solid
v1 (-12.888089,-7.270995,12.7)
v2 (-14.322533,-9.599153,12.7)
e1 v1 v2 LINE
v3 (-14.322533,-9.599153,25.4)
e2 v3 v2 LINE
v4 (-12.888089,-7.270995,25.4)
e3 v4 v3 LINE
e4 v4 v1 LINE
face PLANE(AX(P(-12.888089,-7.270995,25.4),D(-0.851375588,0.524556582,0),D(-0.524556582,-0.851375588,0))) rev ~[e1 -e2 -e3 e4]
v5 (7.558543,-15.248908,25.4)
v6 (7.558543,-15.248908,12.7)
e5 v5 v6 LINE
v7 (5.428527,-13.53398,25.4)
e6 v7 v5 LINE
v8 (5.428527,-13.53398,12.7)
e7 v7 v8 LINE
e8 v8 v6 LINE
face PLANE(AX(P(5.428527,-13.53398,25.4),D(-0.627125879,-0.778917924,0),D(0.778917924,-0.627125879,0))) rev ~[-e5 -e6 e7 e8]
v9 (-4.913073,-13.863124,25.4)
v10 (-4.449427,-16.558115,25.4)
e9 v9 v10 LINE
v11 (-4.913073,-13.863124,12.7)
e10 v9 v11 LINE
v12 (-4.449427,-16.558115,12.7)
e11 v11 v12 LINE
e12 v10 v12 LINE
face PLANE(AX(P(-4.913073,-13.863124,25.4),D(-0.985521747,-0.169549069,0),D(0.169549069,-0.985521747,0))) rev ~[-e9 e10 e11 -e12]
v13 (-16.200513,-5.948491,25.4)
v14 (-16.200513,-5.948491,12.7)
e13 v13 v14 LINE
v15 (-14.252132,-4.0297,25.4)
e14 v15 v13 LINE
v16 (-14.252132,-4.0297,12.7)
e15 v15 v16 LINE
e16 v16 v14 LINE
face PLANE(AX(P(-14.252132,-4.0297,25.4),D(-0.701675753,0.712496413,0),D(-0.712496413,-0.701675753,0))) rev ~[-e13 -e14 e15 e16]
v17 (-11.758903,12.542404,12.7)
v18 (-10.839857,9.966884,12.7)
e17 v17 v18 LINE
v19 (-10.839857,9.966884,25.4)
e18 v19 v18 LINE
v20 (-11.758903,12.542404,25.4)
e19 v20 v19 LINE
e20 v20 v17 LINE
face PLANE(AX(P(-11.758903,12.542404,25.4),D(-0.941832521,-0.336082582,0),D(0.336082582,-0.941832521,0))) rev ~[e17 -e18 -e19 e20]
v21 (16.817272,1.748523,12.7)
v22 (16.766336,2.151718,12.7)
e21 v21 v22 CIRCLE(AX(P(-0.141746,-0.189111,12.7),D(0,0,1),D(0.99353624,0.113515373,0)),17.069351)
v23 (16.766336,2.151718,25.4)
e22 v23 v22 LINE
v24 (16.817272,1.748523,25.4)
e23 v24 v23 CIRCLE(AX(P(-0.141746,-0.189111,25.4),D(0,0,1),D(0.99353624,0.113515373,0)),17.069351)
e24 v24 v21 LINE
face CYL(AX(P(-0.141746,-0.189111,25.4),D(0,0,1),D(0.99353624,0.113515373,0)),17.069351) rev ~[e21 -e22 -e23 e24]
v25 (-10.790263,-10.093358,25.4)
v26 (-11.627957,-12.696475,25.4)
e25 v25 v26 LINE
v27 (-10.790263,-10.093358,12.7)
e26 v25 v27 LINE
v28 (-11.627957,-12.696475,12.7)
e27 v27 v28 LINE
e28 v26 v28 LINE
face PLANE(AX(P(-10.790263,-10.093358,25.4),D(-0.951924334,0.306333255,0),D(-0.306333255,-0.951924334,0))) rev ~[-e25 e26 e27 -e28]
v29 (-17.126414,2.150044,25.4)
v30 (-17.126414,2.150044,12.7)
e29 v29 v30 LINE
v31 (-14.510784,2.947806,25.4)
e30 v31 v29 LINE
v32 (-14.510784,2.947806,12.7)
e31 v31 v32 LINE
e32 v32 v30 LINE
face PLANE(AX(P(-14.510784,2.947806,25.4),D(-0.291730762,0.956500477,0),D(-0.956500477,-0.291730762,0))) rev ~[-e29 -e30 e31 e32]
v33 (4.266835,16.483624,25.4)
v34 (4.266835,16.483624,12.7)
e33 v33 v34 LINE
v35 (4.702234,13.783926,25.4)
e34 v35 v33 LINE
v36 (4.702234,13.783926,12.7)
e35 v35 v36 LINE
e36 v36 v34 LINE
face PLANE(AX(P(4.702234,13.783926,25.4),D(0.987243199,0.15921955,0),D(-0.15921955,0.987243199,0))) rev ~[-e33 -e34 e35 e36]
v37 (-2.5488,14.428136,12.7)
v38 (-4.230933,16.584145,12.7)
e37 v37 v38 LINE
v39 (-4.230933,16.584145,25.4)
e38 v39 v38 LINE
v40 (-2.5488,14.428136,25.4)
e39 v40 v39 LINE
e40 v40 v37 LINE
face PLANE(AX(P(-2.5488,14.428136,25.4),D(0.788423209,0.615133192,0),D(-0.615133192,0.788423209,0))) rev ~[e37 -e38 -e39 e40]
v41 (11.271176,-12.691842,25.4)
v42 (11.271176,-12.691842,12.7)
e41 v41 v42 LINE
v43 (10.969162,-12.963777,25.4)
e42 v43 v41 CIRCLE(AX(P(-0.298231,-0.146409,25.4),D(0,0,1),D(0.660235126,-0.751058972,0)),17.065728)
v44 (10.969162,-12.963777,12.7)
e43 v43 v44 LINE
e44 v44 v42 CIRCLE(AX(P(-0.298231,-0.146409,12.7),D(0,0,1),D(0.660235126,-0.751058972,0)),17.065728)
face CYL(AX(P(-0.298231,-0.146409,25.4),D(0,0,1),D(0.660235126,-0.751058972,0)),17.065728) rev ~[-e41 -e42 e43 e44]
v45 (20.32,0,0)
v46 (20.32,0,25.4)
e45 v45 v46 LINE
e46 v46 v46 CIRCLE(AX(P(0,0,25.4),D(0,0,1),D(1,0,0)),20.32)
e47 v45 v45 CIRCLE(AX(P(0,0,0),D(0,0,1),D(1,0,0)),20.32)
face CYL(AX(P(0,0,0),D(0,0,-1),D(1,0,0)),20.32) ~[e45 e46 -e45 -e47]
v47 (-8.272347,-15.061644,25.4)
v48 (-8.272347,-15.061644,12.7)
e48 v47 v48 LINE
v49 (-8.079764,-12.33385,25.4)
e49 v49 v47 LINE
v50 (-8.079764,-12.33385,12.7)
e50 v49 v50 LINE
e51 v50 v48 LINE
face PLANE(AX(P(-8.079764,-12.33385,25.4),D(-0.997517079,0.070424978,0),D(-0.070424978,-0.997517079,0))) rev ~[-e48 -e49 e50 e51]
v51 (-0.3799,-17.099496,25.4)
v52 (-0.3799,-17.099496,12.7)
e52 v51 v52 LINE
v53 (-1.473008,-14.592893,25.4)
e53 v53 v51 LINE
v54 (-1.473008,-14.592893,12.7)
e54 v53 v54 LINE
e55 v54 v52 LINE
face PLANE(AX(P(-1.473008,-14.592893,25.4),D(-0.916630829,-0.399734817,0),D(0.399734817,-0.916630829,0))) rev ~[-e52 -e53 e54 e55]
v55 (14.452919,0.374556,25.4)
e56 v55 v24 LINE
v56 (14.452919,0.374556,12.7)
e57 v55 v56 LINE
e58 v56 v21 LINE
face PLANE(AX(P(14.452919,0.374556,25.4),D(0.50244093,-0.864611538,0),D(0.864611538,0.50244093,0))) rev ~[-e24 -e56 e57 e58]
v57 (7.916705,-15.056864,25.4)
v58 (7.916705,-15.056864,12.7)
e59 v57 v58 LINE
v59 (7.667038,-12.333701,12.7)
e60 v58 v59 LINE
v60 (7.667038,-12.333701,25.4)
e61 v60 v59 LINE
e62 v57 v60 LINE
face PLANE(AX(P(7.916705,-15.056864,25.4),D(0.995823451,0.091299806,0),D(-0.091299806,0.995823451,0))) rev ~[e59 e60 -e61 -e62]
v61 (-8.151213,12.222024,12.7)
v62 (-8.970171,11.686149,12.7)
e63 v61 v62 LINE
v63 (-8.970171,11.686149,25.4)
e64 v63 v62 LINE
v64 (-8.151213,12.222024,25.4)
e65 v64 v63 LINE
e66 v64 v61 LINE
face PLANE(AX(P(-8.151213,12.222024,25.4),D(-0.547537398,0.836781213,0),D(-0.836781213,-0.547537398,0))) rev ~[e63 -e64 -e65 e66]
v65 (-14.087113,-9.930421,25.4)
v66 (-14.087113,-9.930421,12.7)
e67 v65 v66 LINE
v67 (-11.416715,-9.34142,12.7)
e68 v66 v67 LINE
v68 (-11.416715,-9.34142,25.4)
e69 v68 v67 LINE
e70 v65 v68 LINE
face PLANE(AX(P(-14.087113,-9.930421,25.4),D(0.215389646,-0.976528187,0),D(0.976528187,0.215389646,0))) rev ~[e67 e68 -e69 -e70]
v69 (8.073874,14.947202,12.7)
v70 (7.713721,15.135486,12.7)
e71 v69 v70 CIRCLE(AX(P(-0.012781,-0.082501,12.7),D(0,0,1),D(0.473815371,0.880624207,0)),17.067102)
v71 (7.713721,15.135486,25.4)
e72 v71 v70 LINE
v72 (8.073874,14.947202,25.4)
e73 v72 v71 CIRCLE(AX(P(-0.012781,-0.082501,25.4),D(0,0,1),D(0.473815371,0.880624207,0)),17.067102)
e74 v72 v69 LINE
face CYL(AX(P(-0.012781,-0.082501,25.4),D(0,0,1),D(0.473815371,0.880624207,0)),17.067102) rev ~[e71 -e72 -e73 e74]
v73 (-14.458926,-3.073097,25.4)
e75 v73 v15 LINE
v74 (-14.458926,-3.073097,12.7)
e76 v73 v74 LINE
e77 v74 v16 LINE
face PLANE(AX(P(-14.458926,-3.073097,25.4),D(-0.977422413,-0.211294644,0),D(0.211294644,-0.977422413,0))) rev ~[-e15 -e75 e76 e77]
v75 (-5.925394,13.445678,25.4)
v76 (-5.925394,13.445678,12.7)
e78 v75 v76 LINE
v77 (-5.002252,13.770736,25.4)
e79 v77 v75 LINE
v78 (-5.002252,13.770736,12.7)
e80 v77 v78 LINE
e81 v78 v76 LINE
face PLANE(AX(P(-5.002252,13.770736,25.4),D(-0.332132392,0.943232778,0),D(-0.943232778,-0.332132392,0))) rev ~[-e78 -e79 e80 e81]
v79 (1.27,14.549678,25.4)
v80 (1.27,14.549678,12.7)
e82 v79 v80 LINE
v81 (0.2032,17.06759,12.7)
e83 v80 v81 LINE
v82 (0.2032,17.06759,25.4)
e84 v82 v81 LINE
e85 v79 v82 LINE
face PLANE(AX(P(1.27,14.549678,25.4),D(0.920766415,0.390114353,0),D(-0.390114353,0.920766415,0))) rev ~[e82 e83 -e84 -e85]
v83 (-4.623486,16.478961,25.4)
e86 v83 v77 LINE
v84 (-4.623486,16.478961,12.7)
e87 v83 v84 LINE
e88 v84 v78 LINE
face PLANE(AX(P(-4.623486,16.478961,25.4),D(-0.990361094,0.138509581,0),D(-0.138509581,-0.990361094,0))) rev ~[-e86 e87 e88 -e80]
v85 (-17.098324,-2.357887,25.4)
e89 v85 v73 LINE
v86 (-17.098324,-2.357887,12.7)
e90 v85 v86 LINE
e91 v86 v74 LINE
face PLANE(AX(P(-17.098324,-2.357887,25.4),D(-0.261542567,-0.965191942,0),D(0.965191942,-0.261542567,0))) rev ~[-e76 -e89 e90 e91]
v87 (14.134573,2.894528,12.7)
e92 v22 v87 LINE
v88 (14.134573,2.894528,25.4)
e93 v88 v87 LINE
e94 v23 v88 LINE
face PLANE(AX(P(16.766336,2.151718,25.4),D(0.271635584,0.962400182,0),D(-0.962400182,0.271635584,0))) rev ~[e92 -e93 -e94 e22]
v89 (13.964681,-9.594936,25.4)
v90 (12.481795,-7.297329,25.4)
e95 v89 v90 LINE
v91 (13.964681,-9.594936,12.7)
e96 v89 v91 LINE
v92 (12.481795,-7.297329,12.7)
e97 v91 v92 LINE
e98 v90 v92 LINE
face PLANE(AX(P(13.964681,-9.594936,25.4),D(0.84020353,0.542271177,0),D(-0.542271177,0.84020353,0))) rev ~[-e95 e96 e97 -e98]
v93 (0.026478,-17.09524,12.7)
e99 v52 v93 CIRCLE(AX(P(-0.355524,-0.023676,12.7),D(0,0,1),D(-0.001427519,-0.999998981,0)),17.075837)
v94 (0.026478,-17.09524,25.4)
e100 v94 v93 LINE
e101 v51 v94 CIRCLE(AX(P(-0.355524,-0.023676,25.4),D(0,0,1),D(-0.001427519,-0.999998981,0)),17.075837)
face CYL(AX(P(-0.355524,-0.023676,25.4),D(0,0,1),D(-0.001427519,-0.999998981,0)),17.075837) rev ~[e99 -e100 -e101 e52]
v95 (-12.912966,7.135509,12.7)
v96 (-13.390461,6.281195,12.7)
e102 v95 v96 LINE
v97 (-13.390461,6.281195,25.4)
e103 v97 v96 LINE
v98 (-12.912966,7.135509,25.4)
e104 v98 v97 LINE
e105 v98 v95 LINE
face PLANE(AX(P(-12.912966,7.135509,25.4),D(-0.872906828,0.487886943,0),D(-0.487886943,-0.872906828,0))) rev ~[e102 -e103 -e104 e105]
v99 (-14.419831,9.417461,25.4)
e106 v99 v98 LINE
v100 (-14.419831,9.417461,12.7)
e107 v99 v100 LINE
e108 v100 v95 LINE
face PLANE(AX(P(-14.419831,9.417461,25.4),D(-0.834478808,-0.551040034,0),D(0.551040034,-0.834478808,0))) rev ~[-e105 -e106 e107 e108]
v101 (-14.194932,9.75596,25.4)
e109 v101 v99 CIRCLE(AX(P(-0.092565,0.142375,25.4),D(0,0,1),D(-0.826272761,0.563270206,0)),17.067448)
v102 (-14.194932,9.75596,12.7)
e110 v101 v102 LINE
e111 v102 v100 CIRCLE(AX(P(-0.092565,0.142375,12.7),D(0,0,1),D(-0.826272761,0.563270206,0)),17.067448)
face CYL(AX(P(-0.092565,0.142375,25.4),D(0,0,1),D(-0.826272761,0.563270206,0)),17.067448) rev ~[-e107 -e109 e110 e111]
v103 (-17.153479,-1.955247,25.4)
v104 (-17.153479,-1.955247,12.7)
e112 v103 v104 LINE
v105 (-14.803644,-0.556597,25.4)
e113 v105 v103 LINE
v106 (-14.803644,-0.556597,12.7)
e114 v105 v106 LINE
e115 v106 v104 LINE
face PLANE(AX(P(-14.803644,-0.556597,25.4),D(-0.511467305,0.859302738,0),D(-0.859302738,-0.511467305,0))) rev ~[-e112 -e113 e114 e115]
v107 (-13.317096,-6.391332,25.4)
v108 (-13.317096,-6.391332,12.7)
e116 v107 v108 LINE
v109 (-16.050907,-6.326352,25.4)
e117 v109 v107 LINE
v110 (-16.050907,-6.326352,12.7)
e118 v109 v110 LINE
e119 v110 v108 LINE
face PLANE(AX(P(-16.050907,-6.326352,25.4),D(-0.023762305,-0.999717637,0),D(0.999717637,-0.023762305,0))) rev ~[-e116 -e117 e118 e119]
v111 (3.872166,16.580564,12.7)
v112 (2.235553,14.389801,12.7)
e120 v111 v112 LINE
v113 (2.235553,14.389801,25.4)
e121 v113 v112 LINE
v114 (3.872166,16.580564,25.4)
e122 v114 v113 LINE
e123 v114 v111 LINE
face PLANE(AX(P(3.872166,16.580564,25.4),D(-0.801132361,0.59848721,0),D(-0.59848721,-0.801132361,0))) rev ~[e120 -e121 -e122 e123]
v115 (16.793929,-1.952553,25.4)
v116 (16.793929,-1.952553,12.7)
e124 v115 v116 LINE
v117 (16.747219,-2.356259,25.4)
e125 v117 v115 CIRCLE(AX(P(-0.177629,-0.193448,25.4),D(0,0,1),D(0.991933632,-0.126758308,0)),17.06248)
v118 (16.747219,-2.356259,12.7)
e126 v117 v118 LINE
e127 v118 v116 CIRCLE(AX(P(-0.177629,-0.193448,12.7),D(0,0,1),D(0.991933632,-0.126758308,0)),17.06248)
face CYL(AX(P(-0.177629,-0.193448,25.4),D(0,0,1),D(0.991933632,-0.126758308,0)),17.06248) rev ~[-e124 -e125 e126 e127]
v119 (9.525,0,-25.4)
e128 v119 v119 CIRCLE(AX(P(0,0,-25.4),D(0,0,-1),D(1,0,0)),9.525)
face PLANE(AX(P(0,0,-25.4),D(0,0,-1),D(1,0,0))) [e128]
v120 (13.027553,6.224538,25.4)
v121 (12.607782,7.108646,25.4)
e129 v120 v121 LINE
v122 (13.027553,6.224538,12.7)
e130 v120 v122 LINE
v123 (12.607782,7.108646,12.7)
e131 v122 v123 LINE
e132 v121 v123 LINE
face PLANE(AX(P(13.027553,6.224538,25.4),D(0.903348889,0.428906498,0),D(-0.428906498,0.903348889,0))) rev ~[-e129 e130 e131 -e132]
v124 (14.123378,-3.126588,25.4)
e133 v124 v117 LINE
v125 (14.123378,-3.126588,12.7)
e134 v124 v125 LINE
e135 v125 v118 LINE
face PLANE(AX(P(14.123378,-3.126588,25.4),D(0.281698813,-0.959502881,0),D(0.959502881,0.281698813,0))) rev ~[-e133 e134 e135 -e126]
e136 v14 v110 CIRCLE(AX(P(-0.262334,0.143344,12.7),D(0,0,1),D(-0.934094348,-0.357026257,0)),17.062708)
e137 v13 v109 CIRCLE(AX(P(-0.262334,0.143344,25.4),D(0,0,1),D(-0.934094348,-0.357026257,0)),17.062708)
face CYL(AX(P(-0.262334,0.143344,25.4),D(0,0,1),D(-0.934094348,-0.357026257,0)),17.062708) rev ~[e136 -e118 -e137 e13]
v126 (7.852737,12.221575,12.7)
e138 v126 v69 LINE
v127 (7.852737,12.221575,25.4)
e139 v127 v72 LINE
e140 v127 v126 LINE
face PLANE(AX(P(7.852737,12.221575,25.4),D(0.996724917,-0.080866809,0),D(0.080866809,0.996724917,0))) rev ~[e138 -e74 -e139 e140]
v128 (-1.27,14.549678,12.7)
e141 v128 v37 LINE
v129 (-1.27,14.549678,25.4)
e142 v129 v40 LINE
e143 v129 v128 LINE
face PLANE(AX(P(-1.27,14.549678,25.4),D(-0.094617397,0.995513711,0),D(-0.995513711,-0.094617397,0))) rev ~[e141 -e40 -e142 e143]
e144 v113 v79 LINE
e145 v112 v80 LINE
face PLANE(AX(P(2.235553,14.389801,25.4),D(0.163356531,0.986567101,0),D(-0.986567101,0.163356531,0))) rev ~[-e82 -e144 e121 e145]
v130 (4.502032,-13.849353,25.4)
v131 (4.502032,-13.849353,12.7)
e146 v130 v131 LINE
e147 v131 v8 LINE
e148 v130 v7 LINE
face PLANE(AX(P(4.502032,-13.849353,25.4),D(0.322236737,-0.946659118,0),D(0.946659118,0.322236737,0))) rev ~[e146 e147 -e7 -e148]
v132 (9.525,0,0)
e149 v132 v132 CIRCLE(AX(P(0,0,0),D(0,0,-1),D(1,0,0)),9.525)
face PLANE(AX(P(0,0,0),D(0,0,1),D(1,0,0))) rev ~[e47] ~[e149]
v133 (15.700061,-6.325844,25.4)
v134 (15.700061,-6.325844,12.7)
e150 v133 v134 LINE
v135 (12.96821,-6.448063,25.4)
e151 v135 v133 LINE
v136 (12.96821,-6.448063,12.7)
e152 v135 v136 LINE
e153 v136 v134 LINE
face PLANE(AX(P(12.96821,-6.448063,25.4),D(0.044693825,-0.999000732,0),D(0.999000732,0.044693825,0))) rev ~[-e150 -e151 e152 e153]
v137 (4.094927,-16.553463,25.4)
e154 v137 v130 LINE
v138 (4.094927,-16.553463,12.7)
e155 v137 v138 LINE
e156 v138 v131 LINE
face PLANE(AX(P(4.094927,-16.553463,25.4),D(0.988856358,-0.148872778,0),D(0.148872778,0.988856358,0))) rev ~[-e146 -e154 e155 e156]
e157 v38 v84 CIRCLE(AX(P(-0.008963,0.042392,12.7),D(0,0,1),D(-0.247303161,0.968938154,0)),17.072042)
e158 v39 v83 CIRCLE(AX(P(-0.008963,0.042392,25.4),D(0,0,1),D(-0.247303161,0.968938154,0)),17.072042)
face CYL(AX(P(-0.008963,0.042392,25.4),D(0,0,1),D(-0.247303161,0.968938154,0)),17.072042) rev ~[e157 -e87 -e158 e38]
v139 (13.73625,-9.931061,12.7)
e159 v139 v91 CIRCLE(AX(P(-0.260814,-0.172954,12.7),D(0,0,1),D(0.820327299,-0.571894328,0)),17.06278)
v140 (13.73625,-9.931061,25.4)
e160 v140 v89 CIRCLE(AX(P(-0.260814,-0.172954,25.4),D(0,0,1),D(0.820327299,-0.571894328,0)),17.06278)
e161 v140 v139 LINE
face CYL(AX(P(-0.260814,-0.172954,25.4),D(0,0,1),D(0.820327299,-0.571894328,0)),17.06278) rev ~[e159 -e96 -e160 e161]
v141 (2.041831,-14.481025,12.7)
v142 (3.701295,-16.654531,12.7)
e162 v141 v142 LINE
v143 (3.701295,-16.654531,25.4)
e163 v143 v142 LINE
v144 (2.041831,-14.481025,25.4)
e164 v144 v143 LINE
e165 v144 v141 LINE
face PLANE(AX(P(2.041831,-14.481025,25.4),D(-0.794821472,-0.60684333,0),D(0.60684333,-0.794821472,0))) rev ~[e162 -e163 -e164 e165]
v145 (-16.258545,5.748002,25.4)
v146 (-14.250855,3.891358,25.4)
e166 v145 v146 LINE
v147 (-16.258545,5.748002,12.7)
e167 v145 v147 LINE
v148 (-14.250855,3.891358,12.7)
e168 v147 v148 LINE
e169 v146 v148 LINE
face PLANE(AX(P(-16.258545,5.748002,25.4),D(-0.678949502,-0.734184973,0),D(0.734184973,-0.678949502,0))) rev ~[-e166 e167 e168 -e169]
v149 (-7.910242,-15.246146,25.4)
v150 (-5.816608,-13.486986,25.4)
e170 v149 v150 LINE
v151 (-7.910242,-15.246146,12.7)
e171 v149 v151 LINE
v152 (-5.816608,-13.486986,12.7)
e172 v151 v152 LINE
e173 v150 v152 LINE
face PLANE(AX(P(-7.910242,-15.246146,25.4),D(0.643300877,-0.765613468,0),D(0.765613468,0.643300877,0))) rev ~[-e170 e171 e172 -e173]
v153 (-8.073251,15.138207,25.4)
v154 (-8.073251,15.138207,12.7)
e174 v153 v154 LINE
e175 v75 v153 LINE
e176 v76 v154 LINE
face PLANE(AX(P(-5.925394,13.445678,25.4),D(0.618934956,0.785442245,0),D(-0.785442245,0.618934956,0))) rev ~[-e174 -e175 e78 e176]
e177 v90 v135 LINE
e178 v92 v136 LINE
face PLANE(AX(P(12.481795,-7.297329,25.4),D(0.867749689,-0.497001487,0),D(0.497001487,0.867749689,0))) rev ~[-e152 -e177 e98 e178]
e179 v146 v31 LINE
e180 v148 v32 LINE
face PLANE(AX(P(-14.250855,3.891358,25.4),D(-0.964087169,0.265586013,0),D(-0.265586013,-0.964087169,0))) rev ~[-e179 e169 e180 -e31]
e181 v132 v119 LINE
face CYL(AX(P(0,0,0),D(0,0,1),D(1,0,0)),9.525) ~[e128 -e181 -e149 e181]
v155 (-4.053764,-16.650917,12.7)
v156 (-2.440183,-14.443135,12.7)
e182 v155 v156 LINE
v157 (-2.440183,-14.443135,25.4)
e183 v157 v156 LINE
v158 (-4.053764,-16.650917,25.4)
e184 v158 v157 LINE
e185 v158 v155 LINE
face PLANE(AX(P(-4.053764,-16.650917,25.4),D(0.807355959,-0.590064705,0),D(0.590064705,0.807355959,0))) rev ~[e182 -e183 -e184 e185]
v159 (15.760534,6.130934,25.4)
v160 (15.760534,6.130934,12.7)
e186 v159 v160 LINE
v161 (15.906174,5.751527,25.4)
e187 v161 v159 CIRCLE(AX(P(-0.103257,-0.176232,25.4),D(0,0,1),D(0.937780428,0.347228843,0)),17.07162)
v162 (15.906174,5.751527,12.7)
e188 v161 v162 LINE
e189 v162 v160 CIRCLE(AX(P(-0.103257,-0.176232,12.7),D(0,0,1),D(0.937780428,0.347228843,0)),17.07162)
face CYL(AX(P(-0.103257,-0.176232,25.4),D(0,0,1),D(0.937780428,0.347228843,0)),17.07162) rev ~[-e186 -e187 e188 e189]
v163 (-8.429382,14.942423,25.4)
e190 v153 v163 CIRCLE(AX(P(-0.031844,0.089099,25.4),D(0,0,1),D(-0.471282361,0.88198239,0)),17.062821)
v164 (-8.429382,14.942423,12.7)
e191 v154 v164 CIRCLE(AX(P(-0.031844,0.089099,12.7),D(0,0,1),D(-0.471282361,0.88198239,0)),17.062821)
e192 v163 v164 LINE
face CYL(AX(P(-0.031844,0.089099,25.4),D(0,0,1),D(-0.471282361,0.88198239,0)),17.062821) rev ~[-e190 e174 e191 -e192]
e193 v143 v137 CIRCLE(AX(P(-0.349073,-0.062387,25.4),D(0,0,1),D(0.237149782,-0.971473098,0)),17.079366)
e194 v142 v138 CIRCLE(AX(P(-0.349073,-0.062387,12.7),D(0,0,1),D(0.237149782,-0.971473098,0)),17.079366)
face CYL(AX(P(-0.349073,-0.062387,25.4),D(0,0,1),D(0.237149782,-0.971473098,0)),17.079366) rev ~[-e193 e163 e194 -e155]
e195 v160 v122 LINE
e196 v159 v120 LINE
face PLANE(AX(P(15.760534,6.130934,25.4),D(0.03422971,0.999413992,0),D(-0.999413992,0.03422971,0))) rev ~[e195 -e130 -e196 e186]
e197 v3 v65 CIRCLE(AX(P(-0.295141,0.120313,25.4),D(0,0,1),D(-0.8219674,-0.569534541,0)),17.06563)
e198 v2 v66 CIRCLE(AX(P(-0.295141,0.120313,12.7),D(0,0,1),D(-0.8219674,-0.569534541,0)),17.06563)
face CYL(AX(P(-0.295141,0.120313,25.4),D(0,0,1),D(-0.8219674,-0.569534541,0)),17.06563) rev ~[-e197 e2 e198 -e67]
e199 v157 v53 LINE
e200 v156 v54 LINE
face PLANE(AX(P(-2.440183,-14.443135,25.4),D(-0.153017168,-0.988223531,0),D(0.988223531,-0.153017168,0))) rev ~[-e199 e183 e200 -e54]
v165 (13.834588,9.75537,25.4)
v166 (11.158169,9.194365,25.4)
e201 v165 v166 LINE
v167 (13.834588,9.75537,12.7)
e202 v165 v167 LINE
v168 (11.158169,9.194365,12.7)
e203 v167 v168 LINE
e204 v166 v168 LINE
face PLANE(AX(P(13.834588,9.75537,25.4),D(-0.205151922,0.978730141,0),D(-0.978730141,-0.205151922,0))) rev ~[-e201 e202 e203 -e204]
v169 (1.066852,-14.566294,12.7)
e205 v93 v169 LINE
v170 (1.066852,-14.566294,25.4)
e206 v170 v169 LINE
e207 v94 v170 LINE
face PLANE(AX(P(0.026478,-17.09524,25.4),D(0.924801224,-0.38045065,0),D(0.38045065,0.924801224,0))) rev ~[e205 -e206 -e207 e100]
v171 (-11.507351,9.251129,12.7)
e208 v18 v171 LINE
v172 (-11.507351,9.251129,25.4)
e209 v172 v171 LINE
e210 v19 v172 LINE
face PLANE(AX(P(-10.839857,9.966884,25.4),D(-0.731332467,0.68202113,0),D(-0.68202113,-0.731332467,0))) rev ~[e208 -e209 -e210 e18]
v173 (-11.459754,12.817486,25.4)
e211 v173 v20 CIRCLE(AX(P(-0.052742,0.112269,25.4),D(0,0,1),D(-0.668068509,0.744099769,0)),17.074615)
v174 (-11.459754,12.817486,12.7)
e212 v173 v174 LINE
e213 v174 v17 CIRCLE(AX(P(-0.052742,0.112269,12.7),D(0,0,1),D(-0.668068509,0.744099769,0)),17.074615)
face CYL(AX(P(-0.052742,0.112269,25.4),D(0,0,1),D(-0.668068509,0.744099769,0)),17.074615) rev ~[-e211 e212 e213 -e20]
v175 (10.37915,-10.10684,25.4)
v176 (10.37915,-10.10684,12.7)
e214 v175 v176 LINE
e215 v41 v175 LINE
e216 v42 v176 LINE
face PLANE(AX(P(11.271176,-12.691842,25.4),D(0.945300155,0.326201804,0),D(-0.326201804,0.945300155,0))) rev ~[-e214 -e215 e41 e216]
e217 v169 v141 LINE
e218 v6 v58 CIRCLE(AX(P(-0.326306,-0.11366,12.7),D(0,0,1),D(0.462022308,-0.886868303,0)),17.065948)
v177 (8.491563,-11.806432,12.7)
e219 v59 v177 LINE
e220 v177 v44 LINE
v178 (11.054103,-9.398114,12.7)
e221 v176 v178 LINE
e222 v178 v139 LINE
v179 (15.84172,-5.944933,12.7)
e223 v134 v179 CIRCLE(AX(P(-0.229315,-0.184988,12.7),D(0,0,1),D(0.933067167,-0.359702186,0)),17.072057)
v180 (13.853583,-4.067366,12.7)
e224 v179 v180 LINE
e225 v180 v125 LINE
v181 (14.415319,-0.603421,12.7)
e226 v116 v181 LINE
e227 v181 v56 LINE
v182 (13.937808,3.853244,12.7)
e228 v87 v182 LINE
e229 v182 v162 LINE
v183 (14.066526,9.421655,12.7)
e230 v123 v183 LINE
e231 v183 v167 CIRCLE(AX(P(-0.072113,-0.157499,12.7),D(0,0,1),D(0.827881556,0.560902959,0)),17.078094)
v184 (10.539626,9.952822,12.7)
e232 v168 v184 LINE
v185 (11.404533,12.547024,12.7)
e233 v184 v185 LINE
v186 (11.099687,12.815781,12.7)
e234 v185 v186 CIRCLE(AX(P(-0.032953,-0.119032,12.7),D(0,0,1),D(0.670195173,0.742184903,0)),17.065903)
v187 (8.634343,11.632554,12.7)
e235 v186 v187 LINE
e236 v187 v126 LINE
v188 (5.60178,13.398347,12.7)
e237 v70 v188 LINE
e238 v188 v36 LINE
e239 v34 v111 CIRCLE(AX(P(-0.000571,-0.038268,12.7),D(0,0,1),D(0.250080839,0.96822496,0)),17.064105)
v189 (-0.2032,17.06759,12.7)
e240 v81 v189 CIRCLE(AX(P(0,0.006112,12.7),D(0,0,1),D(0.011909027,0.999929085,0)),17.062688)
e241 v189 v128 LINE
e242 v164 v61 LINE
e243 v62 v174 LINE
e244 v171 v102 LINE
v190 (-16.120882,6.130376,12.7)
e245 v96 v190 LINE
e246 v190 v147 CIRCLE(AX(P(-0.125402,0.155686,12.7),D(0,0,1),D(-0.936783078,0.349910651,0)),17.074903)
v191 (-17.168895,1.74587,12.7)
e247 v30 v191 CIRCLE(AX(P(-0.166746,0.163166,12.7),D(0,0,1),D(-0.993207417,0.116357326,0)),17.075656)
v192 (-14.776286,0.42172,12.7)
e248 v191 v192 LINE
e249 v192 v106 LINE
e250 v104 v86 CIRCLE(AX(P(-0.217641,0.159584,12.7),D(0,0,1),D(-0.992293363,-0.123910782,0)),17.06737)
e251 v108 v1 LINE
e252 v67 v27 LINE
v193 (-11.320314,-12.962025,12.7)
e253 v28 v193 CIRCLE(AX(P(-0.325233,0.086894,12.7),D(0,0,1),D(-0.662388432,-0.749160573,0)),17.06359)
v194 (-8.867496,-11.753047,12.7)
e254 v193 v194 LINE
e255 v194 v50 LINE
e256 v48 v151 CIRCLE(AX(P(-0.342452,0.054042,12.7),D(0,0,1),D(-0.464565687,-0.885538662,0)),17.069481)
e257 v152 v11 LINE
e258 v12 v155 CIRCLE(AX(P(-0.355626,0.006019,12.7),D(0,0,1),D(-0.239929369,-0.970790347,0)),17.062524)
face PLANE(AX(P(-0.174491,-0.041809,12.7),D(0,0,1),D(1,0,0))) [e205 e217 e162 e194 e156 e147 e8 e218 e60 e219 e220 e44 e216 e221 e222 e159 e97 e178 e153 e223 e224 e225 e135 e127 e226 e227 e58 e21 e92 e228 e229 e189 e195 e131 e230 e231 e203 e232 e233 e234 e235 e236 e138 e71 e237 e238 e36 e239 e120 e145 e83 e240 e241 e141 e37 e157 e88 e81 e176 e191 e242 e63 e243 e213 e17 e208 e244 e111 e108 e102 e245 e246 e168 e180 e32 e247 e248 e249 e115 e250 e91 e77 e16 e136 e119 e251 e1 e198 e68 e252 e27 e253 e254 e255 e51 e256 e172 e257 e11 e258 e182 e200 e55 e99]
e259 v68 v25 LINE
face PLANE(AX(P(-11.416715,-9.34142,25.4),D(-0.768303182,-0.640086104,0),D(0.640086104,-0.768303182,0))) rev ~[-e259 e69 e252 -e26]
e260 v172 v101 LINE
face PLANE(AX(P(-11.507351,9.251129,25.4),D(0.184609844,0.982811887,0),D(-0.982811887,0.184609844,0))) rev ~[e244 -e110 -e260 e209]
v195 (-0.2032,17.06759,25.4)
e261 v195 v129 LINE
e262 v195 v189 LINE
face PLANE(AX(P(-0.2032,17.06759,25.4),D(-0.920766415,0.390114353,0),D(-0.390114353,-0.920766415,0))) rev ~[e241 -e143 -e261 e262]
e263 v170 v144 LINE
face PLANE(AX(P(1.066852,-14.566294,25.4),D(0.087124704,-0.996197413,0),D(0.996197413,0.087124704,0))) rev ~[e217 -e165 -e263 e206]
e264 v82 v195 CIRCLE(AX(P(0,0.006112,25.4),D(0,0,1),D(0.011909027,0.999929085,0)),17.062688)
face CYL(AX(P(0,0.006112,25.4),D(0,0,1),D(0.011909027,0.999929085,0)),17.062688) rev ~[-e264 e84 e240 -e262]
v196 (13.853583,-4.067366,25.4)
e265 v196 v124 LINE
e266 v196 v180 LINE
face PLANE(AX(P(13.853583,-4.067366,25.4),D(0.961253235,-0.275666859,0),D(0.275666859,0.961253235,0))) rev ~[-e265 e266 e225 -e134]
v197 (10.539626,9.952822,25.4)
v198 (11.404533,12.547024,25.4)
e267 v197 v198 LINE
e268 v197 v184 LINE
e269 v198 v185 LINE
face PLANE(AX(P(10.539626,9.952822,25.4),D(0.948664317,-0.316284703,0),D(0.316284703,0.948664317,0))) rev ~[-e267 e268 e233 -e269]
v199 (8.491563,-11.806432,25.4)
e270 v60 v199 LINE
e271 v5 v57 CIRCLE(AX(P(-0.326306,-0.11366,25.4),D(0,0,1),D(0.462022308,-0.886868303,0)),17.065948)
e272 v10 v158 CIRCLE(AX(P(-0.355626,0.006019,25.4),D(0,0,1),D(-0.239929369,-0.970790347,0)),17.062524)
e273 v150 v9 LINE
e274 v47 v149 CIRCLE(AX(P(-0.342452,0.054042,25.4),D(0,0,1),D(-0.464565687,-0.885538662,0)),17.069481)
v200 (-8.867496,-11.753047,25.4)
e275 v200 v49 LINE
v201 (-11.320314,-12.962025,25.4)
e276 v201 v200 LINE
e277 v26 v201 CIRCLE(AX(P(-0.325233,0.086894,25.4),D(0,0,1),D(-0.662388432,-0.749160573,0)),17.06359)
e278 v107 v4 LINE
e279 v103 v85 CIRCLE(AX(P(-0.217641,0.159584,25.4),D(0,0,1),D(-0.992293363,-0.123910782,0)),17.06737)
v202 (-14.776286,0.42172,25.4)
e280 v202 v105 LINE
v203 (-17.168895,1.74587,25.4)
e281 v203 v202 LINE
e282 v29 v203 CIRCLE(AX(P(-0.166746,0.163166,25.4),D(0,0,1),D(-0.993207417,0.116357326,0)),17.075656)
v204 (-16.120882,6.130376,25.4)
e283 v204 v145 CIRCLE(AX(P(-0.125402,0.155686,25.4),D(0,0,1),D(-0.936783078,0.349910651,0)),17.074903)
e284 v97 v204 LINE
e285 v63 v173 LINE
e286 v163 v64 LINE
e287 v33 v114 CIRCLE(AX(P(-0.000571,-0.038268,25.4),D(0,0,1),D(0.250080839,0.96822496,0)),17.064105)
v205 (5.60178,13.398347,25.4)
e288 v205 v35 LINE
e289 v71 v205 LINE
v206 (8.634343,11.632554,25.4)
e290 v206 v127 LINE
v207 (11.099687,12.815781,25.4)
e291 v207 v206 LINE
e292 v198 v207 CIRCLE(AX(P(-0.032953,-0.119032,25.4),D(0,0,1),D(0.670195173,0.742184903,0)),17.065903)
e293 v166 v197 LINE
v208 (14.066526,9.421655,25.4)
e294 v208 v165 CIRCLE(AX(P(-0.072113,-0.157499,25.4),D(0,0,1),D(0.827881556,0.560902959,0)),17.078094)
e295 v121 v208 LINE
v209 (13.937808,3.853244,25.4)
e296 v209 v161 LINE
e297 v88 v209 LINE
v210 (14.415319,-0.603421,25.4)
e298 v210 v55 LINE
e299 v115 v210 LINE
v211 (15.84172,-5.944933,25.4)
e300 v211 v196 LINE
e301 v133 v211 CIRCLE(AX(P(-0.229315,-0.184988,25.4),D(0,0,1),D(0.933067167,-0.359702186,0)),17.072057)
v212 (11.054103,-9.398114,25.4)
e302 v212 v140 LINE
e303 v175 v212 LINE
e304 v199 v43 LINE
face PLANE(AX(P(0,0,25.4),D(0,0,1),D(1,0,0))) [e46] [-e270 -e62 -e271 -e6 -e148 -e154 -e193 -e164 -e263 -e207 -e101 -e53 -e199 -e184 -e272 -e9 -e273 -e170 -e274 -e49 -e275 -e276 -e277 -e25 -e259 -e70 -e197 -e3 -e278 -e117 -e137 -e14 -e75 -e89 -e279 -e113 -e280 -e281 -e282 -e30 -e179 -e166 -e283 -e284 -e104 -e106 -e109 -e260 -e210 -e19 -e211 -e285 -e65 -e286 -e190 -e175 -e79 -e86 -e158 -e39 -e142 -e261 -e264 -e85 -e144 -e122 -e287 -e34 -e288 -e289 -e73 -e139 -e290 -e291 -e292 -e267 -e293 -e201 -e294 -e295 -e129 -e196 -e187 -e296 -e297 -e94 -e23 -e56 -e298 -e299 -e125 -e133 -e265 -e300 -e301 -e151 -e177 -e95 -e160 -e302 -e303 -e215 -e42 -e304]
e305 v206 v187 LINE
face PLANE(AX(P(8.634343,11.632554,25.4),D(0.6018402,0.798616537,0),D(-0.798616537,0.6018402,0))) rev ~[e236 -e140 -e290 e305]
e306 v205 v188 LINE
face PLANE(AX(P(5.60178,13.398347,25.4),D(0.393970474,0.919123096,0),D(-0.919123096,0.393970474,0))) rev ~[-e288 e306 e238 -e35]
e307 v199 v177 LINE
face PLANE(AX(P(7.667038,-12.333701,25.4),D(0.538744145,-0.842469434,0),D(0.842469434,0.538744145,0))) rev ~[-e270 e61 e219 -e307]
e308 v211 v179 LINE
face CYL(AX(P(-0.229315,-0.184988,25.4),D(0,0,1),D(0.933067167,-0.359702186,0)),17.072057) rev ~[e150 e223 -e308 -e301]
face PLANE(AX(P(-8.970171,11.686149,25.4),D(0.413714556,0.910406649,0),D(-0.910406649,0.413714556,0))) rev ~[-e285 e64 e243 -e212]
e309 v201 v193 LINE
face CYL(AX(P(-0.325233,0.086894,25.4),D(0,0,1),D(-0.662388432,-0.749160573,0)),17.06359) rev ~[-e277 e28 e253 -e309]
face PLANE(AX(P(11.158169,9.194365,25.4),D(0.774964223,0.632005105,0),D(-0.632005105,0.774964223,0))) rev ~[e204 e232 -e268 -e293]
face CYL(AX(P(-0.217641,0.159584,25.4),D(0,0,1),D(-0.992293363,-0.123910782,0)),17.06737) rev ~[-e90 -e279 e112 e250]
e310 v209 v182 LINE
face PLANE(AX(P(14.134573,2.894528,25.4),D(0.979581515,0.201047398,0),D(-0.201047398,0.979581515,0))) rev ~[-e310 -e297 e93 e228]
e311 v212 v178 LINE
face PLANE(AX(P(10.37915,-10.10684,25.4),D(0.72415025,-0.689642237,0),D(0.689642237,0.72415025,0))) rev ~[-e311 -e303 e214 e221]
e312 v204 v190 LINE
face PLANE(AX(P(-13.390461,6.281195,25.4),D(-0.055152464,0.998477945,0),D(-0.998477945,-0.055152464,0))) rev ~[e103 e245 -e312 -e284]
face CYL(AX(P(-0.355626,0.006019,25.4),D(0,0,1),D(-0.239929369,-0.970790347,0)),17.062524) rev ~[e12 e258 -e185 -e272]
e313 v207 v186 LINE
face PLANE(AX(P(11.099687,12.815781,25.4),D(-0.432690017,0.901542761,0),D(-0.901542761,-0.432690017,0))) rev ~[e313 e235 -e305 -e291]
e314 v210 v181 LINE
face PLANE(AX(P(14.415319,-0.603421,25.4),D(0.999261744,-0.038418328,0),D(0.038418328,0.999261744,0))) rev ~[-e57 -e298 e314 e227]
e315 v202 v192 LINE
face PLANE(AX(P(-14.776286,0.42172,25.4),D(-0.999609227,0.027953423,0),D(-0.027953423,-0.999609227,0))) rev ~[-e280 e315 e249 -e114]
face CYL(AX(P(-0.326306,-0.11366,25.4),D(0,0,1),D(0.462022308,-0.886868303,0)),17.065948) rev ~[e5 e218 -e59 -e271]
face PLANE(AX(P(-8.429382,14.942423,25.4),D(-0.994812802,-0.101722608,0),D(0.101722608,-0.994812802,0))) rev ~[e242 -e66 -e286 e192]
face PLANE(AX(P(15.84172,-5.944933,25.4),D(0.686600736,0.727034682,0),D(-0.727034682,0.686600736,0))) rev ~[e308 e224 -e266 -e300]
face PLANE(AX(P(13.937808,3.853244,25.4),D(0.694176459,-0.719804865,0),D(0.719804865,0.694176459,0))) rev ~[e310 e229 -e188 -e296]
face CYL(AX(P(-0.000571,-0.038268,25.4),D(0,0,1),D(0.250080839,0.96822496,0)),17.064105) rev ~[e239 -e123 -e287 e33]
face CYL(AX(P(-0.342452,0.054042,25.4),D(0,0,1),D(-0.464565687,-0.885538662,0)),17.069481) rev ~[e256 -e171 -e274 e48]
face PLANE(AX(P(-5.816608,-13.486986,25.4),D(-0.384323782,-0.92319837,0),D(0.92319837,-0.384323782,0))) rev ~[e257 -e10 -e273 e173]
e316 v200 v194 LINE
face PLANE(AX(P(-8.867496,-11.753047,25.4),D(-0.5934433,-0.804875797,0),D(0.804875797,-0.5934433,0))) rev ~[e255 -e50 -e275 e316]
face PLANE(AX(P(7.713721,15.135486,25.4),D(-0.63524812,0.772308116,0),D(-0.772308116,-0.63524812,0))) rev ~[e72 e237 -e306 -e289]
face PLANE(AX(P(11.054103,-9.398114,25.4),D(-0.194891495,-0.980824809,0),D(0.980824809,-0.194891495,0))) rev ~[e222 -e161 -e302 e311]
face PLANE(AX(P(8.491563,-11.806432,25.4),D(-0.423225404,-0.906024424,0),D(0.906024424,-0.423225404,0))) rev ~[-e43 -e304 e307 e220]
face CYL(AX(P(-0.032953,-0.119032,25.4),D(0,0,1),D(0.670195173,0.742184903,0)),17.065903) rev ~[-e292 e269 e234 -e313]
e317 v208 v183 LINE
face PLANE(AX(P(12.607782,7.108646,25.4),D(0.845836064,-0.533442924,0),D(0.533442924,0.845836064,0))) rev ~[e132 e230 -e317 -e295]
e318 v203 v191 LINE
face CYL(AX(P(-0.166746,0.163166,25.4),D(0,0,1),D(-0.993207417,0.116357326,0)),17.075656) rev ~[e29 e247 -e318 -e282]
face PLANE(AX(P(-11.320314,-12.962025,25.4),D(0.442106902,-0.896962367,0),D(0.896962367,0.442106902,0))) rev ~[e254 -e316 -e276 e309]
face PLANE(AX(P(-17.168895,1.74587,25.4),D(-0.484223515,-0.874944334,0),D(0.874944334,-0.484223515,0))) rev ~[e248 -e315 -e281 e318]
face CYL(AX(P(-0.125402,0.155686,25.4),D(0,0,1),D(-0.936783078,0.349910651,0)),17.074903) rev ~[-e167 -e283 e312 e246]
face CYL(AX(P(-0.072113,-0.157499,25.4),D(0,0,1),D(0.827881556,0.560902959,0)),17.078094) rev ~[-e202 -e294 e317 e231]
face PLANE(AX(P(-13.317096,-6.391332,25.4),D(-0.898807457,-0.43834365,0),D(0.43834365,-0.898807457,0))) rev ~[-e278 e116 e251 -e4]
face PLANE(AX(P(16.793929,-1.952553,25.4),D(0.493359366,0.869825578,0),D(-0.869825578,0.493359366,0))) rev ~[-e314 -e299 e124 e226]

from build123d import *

# Parameters (mm, degrees)
F0_R     = 20.32
F1_DEPTH = 25.4
F3_DEPTH = 12.7
F4_R     = 9.525
F5_DEPTH = 25.4


with BuildPart() as f1:
    # F0 (on Top) → F1 (new body)
    with BuildSketch(Plane.XY):
        Circle(F0_R)
    extrude(amount=F1_DEPTH)

    # F2 (on face) → F3 (cut)
    with BuildSketch(Plane.XY.offset(25.4)):
        with BuildLine():
            Line((1.27, 14.549678), (0.2032, 17.06759))
            ThreePointArc((0.2032, 17.06759), (0, 17.0688), (-0.2032, 17.06759))
            Line((-0.2032, 17.06759), (-1.27, 14.549678))
            Line((-1.27, 14.549678), (-2.5488, 14.428136))
            Line((-2.5488, 14.428136), (-4.230933, 16.584145))
            ThreePointArc((-4.230933, 16.584145), (-4.427523, 16.532721), (-4.623486, 16.478961))
            Line((-4.623486, 16.478961), (-5.002252, 13.770736))
            Line((-5.002252, 13.770736), (-5.925394, 13.445678))
            Line((-5.925394, 13.445678), (-8.073251, 15.138207))
            ThreePointArc((-8.073251, 15.138207), (-8.2519, 15.041375), (-8.429382, 14.942423))
            Line((-8.429382, 14.942423), (-8.151213, 12.222024))
            Line((-8.151213, 12.222024), (-8.970171, 11.686149))
            Line((-8.970171, 11.686149), (-11.459754, 12.817486))
            ThreePointArc((-11.459754, 12.817486), (-11.610147, 12.680835), (-11.758903, 12.542404))
            Line((-11.758903, 12.542404), (-10.839857, 9.966884))
            Line((-10.839857, 9.966884), (-11.507351, 9.251129))
            Line((-11.507351, 9.251129), (-14.194932, 9.75596))
            ThreePointArc((-14.194932, 9.75596), (-14.308389, 9.58738), (-14.419831, 9.417461))
            Line((-14.419831, 9.417461), (-12.912966, 7.135509))
            Line((-12.912966, 7.135509), (-13.390461, 6.281195))
            Line((-13.390461, 6.281195), (-16.120882, 6.130376))
            ThreePointArc((-16.120882, 6.130376), (-16.190851, 5.939599), (-16.258545, 5.748002))
            Line((-16.258545, 5.748002), (-14.250855, 3.891358))
            Line((-14.250855, 3.891358), (-14.510784, 2.947806))
            Line((-14.510784, 2.947806), (-17.126414, 2.150044))
            ThreePointArc((-17.126414, 2.150044), (-17.148857, 1.948083), (-17.168895, 1.74587))
            Line((-17.168895, 1.74587), (-14.776286, 0.42172))
            Line((-14.776286, 0.42172), (-14.803644, -0.556597))
            Line((-14.803644, -0.556597), (-17.153479, -1.955247))
            ThreePointArc((-17.153479, -1.955247), (-17.1271, -2.156731), (-17.098324, -2.357887))
            Line((-17.098324, -2.357887), (-14.458926, -3.073097))
            Line((-14.458926, -3.073097), (-14.252132, -4.0297))
            Line((-14.252132, -4.0297), (-16.200513, -5.948491))
            ThreePointArc((-16.200513, -5.948491), (-16.126835, -6.137867), (-16.050907, -6.326352))
            Line((-16.050907, -6.326352), (-13.317096, -6.391332))
            Line((-13.317096, -6.391332), (-12.888089, -7.270995))
            Line((-12.888089, -7.270995), (-14.322533, -9.599153))
            ThreePointArc((-14.322533, -9.599153), (-14.205809, -9.765488), (-14.087113, -9.930421))
            Line((-14.087113, -9.930421), (-11.416715, -9.34142))
            Line((-11.416715, -9.34142), (-10.790263, -10.093358))
            Line((-10.790263, -10.093358), (-11.627957, -12.696475))
            ThreePointArc((-11.627957, -12.696475), (-11.474926, -12.830166), (-11.320314, -12.962025))
            Line((-11.320314, -12.962025), (-8.867496, -11.753047))
            Line((-8.867496, -11.753047), (-8.079764, -12.33385))
            Line((-8.079764, -12.33385), (-8.272347, -15.061644))
            ThreePointArc((-8.272347, -15.061644), (-8.091843, -15.154973), (-7.910242, -15.246146))
            Line((-7.910242, -15.246146), (-5.816608, -13.486986))
            Line((-5.816608, -13.486986), (-4.913073, -13.863124))
            Line((-4.913073, -13.863124), (-4.449427, -16.558115))
            ThreePointArc((-4.449427, -16.558115), (-4.251872, -16.605694), (-4.053764, -16.650917))
            Line((-4.053764, -16.650917), (-2.440183, -14.443135))
            Line((-2.440183, -14.443135), (-1.473008, -14.592893))
            Line((-1.473008, -14.592893), (-0.3799, -17.099496))
            ThreePointArc((-0.3799, -17.099496), (-0.176698, -17.098577), (0.026478, -17.09524))
            Line((0.026478, -17.09524), (1.066852, -14.566294))
            Line((1.066852, -14.566294), (2.041831, -14.481025))
            Line((2.041831, -14.481025), (3.701295, -16.654531))
            ThreePointArc((3.701295, -16.654531), (3.898411, -16.605168), (4.094927, -16.553463))
            Line((4.094927, -16.553463), (4.502032, -13.849353))
            Line((4.502032, -13.849353), (5.428527, -13.53398))
            Line((5.428527, -13.53398), (7.558543, -15.248908))
            ThreePointArc((7.558543, -15.248908), (7.738196, -15.153952), (7.916705, -15.056864))
            Line((7.916705, -15.056864), (7.667038, -12.333701))
            Line((7.667038, -12.333701), (8.491563, -11.806432))
            Line((8.491563, -11.806432), (10.969162, -12.963777))
            ThreePointArc((10.969162, -12.963777), (11.120978, -12.828709), (11.271176, -12.691842))
            Line((11.271176, -12.691842), (10.37915, -10.10684))
            Line((10.37915, -10.10684), (11.054103, -9.398114))
            Line((11.054103, -9.398114), (13.73625, -9.931061))
            ThreePointArc((13.73625, -9.931061), (13.851466, -9.763679), (13.964681, -9.594936))
            Line((13.964681, -9.594936), (12.481795, -7.297329))
            Line((12.481795, -7.297329), (12.96821, -6.448063))
            Line((12.96821, -6.448063), (15.700061, -6.325844))
            ThreePointArc((15.700061, -6.325844), (15.772024, -6.13581), (15.84172, -5.944933))
            Line((15.84172, -5.944933), (13.853583, -4.067366))
            Line((13.853583, -4.067366), (14.123378, -3.126588))
            Line((14.123378, -3.126588), (16.747219, -2.356259))
            ThreePointArc((16.747219, -2.356259), (16.771776, -2.154545), (16.793929, -1.952553))
            Line((16.793929, -1.952553), (14.415319, -0.603421))
            Line((14.415319, -0.603421), (14.452919, 0.374556))
            Line((14.452919, 0.374556), (16.817272, 1.748523))
            ThreePointArc((16.817272, 1.748523), (16.793004, 1.950272), (16.766336, 2.151718))
            Line((16.766336, 2.151718), (14.134573, 2.894528))
            Line((14.134573, 2.894528), (13.937808, 3.853244))
            Line((13.937808, 3.853244), (15.906174, 5.751527))
            ThreePointArc((15.906174, 5.751527), (15.834483, 5.941664), (15.760534, 6.130934))
            Line((15.760534, 6.130934), (13.027553, 6.224538))
            Line((13.027553, 6.224538), (12.607782, 7.108646))
            Line((12.607782, 7.108646), (14.066526, 9.421655))
            ThreePointArc((14.066526, 9.421655), (13.95155, 9.589202), (13.834588, 9.75537))
            Line((13.834588, 9.75537), (11.158169, 9.194365))
            Line((11.158169, 9.194365), (10.539626, 9.952822))
            Line((10.539626, 9.952822), (11.404533, 12.547024))
            ThreePointArc((11.404533, 12.547024), (11.25291, 12.68231), (11.099687, 12.815781))
            Line((11.099687, 12.815781), (8.634343, 11.632554))
            Line((8.634343, 11.632554), (7.852737, 12.221575))
            Line((7.852737, 12.221575), (8.073874, 14.947202))
            ThreePointArc((8.073874, 14.947202), (7.894358, 15.042416), (7.713721, 15.135486))
            Line((7.713721, 15.135486), (5.60178, 13.398347))
            Line((5.60178, 13.398347), (4.702234, 13.783926))
            Line((4.702234, 13.783926), (4.266835, 16.483624))
            ThreePointArc((4.266835, 16.483624), (4.069789, 16.533269), (3.872166, 16.580564))
            Line((3.872166, 16.580564), (2.235553, 14.389801))
            Line((2.235553, 14.389801), (1.27, 14.549678))
        make_face()
    extrude(amount=-F3_DEPTH, mode=Mode.SUBTRACT)

    # F4 (on face) → F5 (join)
    with BuildSketch(Plane(origin=(0, 0, 0), x_dir=(1, 0, 0), z_dir=(0, 0, -1))):
        Circle(F4_R)
    extrude(amount=F5_DEPTH)


solid = f1.part
